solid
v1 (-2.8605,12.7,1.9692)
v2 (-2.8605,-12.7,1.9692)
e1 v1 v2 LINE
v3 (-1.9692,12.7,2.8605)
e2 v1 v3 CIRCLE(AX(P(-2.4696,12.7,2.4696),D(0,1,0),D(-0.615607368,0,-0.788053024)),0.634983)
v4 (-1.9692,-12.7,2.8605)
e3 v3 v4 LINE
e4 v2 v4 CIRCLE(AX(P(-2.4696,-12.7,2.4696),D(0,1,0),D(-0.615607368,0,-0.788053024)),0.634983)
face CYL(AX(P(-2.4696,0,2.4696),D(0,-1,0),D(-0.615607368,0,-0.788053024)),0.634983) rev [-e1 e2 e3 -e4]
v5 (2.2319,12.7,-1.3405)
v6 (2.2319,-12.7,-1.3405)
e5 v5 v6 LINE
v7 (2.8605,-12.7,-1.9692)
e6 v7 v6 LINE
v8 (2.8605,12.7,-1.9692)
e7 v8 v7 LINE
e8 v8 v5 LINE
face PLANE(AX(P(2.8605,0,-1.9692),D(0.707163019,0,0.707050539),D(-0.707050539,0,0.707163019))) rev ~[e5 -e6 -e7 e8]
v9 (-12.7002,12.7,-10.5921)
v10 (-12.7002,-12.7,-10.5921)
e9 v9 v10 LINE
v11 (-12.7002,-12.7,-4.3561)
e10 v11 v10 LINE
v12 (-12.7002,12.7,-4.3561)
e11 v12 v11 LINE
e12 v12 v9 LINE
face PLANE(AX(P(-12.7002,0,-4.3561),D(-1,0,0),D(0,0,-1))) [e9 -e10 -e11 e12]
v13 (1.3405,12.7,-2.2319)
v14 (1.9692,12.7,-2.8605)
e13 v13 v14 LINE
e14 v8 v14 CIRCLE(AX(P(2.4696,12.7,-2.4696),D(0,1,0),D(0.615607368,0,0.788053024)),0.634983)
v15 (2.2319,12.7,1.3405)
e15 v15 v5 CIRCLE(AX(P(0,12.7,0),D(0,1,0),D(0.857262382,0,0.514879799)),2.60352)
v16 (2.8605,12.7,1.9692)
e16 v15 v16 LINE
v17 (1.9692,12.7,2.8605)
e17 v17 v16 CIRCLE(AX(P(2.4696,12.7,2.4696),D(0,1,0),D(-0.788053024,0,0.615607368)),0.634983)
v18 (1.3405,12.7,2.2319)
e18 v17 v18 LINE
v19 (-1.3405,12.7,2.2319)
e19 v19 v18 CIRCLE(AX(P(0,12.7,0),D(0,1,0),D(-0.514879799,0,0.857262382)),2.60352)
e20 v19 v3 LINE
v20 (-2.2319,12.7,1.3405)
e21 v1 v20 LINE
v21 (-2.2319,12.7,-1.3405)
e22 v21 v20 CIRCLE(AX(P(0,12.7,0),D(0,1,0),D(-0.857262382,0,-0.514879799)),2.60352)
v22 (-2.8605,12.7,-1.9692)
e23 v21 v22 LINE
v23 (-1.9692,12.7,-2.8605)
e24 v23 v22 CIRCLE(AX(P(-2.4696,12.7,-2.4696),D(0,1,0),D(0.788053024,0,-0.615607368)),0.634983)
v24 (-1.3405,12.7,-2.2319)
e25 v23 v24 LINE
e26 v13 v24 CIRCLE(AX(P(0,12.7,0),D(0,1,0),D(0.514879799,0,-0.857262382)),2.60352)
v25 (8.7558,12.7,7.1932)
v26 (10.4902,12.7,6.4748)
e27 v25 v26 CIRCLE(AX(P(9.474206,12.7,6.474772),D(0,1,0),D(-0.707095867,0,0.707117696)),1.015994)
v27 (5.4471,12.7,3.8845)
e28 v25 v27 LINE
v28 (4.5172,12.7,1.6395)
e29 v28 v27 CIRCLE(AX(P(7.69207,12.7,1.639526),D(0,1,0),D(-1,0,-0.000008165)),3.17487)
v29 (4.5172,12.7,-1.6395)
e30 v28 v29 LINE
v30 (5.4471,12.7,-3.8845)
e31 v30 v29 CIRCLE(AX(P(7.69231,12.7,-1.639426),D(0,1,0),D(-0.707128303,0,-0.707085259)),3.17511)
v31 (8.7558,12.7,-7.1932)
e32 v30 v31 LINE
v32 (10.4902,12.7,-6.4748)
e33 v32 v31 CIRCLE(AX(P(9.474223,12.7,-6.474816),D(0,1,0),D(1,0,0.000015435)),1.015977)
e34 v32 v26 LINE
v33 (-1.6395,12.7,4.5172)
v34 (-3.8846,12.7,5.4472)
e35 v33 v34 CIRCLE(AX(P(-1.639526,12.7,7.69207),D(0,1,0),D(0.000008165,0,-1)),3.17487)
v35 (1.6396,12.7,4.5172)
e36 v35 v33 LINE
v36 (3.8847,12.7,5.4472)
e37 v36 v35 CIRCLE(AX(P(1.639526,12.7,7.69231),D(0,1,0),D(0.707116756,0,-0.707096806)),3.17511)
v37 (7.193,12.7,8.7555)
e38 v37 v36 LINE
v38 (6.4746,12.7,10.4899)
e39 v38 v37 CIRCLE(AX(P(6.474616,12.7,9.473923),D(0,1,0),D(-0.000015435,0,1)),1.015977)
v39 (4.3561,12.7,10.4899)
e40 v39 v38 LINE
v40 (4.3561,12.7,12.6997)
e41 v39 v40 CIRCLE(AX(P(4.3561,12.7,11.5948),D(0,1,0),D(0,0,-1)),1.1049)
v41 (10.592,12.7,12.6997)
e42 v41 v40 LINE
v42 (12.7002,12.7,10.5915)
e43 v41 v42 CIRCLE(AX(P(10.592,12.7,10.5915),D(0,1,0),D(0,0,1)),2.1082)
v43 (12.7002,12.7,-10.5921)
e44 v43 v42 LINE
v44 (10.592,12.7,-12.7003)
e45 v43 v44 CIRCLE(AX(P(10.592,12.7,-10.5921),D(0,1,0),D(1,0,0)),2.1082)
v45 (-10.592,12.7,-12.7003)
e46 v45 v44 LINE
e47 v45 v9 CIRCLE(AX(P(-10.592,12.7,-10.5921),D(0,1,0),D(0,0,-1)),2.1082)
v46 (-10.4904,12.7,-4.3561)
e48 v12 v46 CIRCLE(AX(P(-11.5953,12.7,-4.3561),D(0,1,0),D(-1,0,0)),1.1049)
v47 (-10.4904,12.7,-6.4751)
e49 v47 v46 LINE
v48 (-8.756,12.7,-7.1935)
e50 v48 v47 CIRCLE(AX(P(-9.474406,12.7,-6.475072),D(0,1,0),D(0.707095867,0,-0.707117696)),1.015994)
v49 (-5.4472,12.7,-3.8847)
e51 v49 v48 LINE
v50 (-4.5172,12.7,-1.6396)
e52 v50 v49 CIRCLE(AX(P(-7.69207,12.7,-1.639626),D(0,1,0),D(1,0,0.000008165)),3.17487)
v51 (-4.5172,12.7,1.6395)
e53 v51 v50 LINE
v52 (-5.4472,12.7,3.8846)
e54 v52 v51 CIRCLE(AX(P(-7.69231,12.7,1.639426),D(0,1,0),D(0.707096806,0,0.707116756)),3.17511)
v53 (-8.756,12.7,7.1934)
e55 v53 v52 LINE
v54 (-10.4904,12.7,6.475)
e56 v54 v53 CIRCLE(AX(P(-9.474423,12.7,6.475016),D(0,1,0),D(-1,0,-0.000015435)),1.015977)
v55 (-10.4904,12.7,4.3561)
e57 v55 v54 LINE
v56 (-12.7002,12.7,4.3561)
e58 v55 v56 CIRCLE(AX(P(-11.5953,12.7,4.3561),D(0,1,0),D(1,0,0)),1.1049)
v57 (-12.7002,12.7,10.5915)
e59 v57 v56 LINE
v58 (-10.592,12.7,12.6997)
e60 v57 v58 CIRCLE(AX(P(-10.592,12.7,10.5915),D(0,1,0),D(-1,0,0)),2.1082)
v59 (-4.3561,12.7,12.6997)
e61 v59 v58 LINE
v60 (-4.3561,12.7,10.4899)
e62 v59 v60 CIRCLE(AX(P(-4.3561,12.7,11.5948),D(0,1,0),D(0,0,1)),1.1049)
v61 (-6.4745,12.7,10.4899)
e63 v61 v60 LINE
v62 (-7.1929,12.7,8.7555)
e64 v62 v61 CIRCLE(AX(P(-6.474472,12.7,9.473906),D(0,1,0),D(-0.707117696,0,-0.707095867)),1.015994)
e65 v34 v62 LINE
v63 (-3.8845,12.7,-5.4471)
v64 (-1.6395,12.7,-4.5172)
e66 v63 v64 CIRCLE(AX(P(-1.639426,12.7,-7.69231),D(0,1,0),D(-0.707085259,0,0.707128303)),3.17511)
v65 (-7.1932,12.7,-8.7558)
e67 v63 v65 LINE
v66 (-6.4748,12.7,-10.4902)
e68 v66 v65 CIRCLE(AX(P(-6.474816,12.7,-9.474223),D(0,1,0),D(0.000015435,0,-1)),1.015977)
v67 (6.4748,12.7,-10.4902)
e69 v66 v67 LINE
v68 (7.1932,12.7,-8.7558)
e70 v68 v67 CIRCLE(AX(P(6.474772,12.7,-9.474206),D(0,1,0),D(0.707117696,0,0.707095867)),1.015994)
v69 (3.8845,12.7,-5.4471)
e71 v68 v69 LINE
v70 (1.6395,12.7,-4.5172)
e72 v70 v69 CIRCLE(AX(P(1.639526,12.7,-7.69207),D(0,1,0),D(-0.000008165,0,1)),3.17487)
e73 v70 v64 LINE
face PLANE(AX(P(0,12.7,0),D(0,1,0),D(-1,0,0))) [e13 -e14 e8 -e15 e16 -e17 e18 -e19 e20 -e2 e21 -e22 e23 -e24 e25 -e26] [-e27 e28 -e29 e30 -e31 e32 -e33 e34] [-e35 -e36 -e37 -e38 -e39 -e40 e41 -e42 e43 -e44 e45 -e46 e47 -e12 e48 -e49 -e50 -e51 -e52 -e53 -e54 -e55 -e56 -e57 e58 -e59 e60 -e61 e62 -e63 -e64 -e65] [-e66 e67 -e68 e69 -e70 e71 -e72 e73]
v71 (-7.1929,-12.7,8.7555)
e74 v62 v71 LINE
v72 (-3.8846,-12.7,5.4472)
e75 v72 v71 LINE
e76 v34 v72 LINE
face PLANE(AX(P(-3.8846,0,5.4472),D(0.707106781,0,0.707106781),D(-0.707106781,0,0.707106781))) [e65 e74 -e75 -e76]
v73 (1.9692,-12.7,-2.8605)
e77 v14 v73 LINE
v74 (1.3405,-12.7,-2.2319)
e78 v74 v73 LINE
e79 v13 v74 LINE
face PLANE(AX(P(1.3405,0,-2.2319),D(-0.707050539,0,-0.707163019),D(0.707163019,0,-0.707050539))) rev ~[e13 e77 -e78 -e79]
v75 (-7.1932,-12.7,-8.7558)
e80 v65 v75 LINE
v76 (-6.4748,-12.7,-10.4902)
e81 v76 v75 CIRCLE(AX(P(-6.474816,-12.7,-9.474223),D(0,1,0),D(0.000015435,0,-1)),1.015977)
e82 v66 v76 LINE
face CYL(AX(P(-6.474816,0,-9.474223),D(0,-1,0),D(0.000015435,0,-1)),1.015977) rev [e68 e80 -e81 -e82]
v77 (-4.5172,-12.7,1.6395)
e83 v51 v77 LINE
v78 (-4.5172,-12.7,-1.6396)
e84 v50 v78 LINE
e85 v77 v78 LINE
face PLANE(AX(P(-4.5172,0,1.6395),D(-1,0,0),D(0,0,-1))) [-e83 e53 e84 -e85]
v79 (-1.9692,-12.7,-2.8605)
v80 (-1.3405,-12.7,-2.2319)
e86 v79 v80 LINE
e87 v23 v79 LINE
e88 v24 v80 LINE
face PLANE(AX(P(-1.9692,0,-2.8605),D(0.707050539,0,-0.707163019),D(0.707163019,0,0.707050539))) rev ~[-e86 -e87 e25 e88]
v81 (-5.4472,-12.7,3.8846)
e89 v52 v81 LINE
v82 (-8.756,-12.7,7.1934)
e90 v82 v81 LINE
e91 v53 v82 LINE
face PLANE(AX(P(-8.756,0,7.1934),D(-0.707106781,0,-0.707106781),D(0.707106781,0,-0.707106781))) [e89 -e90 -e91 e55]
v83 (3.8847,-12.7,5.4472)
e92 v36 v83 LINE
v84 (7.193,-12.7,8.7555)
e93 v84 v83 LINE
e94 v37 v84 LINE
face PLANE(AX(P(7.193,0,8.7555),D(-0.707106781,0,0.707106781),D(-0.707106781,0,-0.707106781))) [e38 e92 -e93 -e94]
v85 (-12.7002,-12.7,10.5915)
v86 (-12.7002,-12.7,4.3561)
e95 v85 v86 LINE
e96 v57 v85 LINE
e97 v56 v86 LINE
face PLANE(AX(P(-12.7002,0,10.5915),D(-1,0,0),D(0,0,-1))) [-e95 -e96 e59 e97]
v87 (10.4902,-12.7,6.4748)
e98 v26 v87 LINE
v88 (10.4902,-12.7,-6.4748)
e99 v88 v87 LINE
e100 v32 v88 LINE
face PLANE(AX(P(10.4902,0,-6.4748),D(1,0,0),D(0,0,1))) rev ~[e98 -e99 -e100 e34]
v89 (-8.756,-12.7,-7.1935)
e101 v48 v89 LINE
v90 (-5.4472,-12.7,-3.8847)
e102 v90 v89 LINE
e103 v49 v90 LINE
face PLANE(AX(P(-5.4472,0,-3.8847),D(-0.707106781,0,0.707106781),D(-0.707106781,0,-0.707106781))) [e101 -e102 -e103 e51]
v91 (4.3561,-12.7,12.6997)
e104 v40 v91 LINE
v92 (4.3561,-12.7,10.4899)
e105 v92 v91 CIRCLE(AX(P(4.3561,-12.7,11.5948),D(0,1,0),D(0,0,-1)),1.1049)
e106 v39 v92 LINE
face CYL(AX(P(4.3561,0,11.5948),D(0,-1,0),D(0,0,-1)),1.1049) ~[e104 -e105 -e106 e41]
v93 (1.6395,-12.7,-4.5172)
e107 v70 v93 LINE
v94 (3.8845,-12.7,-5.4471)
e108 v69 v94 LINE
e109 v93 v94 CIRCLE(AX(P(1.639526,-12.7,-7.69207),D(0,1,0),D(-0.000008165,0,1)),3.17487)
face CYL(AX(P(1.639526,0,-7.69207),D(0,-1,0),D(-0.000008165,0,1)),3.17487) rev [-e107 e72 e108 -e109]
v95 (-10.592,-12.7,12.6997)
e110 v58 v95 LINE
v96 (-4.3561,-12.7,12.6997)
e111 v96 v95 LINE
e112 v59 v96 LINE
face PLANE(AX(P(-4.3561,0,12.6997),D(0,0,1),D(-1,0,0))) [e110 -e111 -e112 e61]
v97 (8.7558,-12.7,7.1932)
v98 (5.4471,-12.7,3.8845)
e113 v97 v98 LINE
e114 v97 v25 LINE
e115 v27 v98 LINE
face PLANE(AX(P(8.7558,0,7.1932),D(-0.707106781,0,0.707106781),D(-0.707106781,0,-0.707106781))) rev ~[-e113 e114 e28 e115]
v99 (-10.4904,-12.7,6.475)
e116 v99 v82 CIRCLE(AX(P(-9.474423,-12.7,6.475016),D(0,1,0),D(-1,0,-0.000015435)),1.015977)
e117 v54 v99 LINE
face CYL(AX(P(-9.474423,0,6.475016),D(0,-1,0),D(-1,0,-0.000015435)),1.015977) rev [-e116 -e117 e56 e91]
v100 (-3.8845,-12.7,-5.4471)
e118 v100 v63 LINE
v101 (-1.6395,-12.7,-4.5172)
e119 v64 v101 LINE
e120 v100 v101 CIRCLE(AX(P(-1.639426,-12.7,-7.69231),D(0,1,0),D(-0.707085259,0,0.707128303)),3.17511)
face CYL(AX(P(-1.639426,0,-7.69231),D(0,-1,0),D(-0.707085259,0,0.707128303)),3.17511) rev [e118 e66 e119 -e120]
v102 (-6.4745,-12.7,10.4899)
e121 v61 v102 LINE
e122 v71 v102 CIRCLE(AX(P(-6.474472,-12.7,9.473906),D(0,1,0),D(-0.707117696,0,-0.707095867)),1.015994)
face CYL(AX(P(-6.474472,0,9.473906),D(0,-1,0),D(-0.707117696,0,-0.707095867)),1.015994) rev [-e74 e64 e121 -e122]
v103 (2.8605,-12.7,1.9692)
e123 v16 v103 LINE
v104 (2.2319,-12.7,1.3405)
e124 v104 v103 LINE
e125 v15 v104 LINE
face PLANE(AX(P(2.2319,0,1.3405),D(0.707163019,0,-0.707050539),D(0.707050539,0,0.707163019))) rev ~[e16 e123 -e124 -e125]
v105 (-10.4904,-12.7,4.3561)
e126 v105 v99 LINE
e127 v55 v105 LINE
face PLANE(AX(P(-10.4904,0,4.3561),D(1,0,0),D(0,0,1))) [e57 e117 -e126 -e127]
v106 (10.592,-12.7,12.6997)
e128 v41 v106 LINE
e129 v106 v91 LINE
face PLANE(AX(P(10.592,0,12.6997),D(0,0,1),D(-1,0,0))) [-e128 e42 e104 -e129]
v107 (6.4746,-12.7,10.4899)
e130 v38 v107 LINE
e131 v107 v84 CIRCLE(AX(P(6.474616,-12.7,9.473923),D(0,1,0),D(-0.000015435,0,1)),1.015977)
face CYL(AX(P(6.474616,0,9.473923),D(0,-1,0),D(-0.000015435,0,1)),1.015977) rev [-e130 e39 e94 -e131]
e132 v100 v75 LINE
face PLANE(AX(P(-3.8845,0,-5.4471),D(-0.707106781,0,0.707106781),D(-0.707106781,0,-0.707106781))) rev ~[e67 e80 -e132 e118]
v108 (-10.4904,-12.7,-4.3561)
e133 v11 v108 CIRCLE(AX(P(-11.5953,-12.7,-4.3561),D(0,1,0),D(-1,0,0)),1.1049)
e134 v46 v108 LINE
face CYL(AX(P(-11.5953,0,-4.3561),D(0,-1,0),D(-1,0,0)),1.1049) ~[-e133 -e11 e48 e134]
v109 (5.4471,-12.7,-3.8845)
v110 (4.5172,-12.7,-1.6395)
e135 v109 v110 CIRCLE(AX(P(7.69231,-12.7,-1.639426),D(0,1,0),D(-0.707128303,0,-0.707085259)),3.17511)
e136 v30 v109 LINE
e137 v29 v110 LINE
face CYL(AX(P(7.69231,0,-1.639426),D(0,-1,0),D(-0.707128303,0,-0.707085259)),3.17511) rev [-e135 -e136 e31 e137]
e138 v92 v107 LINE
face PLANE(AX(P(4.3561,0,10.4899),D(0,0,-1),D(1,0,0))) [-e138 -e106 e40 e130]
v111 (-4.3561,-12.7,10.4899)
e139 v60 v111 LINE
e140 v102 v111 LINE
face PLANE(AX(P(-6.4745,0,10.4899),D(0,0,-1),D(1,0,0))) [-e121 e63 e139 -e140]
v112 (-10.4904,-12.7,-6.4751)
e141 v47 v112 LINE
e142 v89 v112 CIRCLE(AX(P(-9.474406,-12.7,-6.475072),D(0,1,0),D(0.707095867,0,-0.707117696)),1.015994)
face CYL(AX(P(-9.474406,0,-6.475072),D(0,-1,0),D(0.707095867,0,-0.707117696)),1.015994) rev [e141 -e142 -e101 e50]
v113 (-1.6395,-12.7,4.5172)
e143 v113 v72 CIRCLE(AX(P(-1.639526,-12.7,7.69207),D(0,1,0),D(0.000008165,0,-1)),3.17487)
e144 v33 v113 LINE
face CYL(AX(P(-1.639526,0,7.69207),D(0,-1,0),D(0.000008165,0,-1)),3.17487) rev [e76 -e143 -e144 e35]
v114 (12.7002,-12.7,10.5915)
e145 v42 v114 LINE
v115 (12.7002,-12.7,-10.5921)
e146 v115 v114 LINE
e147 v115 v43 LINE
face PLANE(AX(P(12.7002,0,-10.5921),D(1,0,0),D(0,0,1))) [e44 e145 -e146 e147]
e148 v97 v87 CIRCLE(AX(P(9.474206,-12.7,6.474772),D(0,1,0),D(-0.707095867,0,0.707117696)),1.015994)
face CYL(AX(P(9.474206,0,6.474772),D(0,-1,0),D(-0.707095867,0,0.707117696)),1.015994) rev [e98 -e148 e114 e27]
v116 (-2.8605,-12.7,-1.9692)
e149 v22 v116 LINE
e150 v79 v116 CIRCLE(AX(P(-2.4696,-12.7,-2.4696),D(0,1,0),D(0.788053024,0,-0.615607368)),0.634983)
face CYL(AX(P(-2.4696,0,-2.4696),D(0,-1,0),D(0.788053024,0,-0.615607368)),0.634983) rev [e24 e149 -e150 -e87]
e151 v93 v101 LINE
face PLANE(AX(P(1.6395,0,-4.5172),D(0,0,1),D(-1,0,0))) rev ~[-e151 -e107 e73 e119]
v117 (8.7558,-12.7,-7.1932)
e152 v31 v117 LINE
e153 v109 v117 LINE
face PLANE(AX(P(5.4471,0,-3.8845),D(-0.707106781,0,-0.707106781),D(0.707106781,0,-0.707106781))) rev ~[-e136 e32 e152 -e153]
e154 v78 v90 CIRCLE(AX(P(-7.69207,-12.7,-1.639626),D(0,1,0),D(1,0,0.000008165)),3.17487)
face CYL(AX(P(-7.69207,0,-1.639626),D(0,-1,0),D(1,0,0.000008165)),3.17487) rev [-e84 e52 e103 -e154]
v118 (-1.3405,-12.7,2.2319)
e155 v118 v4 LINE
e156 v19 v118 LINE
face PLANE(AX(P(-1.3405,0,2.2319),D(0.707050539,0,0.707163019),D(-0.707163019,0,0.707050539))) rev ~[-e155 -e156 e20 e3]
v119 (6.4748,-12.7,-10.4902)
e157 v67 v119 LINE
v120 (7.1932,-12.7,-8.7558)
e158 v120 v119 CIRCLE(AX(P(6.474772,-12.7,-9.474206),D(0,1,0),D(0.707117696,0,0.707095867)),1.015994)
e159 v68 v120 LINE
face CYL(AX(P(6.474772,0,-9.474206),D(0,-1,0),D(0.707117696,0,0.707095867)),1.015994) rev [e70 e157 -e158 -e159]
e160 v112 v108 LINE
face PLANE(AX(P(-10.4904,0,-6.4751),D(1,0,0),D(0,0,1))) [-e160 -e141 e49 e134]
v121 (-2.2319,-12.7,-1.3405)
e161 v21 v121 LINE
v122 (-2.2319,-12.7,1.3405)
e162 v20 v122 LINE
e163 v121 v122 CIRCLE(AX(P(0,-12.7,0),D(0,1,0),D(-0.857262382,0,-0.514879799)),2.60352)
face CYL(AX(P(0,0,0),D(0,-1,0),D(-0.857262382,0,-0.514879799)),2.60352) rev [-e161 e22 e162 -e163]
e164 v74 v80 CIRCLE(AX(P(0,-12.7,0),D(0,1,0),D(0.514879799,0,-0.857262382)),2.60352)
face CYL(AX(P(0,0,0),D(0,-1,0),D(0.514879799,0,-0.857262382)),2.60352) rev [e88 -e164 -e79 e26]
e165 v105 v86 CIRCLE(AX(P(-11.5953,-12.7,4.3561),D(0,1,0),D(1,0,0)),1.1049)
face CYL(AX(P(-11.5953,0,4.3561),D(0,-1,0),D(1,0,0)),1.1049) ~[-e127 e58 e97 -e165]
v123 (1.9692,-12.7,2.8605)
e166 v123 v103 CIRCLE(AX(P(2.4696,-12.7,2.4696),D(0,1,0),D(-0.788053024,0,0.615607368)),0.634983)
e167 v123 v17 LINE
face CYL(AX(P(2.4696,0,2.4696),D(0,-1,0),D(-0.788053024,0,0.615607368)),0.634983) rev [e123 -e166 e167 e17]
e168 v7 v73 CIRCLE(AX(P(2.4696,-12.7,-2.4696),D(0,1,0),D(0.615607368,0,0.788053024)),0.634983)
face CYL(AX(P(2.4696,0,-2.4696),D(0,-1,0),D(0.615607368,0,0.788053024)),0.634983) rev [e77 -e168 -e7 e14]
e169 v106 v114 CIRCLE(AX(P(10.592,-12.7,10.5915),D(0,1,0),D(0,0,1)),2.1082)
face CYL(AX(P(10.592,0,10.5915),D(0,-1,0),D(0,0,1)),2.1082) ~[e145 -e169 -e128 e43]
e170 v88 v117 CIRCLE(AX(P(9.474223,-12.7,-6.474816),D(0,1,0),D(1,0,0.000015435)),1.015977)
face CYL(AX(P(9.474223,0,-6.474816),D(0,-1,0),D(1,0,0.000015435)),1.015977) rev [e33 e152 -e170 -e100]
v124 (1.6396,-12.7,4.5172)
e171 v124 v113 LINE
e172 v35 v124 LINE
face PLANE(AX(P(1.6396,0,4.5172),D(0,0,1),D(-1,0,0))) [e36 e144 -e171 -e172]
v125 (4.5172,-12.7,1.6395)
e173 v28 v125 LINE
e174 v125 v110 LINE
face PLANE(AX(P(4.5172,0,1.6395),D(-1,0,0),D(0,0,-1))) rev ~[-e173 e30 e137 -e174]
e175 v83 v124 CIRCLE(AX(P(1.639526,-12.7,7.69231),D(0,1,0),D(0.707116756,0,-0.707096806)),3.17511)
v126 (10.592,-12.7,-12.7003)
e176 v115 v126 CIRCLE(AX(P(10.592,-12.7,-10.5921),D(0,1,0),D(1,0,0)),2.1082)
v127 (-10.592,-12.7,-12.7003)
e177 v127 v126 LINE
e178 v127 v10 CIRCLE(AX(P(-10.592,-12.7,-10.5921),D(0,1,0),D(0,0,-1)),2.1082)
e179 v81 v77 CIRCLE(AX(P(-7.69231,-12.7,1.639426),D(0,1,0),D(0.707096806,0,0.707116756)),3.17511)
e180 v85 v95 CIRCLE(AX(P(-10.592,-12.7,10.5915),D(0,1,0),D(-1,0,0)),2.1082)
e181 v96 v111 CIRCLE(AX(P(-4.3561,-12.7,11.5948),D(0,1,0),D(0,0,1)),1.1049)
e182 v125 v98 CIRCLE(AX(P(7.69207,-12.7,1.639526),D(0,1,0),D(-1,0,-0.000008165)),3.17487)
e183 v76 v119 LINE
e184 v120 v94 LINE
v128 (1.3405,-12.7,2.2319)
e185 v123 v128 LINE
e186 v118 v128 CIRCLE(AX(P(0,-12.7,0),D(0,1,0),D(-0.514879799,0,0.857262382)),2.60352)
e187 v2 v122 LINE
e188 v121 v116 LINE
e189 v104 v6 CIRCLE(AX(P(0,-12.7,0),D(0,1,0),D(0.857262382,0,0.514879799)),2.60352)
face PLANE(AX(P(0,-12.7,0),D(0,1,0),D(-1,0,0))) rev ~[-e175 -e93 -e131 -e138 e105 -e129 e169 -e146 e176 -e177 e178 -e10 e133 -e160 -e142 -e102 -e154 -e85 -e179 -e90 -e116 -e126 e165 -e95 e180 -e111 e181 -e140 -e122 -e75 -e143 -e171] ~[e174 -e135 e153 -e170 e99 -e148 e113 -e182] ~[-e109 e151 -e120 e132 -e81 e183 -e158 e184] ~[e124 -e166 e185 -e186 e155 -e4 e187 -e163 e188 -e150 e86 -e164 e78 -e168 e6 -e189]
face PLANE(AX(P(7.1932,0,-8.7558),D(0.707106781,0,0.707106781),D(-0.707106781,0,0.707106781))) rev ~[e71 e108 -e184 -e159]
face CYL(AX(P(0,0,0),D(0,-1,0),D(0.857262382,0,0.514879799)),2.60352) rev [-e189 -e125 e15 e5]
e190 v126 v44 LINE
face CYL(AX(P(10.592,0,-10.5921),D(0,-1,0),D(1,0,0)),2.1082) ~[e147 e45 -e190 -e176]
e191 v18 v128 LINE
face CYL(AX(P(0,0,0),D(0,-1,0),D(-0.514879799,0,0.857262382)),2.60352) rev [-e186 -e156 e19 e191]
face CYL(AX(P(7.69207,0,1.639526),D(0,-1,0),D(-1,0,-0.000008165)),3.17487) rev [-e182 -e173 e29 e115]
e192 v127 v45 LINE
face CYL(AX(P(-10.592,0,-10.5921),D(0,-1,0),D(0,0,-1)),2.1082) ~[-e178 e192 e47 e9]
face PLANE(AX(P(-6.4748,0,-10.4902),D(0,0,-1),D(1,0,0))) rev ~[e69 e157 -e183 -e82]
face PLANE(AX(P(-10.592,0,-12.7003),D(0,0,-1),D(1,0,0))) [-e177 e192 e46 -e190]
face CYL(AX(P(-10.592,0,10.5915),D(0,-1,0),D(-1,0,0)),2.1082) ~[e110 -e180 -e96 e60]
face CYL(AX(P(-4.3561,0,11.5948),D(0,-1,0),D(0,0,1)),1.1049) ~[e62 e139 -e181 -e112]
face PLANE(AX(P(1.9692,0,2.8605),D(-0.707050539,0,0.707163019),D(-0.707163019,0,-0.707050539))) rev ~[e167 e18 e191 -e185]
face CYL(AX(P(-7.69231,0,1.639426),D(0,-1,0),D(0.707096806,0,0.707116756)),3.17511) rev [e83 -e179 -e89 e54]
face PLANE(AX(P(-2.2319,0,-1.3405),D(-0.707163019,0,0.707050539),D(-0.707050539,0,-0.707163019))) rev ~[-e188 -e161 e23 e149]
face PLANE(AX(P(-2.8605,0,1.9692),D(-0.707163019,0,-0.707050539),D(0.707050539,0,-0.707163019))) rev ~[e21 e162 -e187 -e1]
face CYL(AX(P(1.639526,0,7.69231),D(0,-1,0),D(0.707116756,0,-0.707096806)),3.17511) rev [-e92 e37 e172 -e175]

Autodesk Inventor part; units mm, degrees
ref_plane "YZ Plane" through (0, 0, 0) normal (1, 0, 0) x (0, 1, 0)
ref_plane "XZ Plane" through (0, 0, 0) normal (0, 1, 0) x (-1, 0, 0)
ref_plane "XY Plane" through (0, 0, 0) normal (0, 0, 1) x (1, 0, 0)
sketch "Sketch1" plane through (0, 0, 0) normal (0, 1, 0) x (-1, 0, 0)
  arc A0 (-1.9692, 2.8605) -> (-2.8605, 1.9692) centre (-2.4696, 2.4696) ccw
  line L0 (-2.2319, 1.3405) -> (-2.8605, 1.9692)
  arc A1 (-2.2319, 1.3405) -> (-2.2319, -1.3405) centre (0, 0) ccw
  line L1 (-2.8605, -1.9692) -> (-2.2319, -1.3405)
  arc A2 (-2.8605, -1.9692) -> (-1.9692, -2.8605) centre (-2.4696, -2.4696) ccw
  line L2 (-1.3405, -2.2319) -> (-1.9692, -2.8605)
  arc A3 (-1.3405, -2.2319) -> (1.3405, -2.2319) centre (0, 0) ccw
  line L3 (1.9692, -2.8605) -> (1.3405, -2.2319)
  arc A4 (1.9692, -2.8605) -> (2.8605, -1.9692) centre (2.4696, -2.4696) ccw
  line L4 (2.2319, -1.3405) -> (2.8605, -1.9692)
  arc A5 (2.2319, -1.3405) -> (2.2319, 1.3405) centre (0, 0) ccw
  line L5 (2.8605, 1.9692) -> (2.2319, 1.3405)
  arc A6 (2.8605, 1.9692) -> (1.9692, 2.8605) centre (2.4696, 2.4696) ccw
  line L6 (1.3405, 2.2319) -> (1.9692, 2.8605)
  arc A7 (1.3405, 2.2319) -> (-1.3405, 2.2319) centre (0, 0) ccw
  line L7 (-1.9692, 2.8605) -> (-1.3405, 2.2319)
  arc A8 (-8.7558, 7.1932) -> (-10.4902, 6.4748) centre (-9.4742, 6.4748) ccw
  line L8 (-10.4902, -6.4748) -> (-10.4902, 6.4748)
  arc A9 (-10.4902, -6.4748) -> (-8.7558, -7.1932) centre (-9.4742, -6.4748) ccw
  line L9 (-5.4471, -3.8845) -> (-8.7558, -7.1932)
  arc A10 (-5.4471, -3.8845) -> (-4.5172, -1.6395) centre (-7.6922, -1.6395) ccw
  line L10 (-4.5172, 1.6395) -> (-4.5172, -1.6395)
  arc A11 (-4.5172, 1.6395) -> (-5.4471, 3.8845) centre (-7.6922, 1.6395) ccw
  line L11 (-8.7558, 7.1932) -> (-5.4471, 3.8845)
  arc A12 (3.8845, -5.4471) -> (1.6395, -4.5172) centre (1.6395, -7.6922) ccw
  line L12 (-1.6395, -4.5172) -> (1.6395, -4.5172)
  arc A13 (-1.6395, -4.5172) -> (-3.8845, -5.4471) centre (-1.6395, -7.6922) ccw
  line L13 (-7.1932, -8.7558) -> (-3.8845, -5.4471)
  arc A14 (-7.1932, -8.7558) -> (-6.4748, -10.4902) centre (-6.4748, -9.4742) ccw
  line L14 (6.4748, -10.4902) -> (-6.4748, -10.4902)
  arc A15 (6.4748, -10.4902) -> (7.1932, -8.7558) centre (6.4748, -9.4742) ccw
  line L15 (3.8845, -5.4471) -> (7.1932, -8.7558)
  arc A16 (-12.7002, -10.5921) -> (-10.592, -12.7003) centre (-10.592, -10.5921) ccw
  line L16 (-12.7002, -10.5921) -> (-12.7002, 10.5915)
  arc A17 (-10.592, 12.6997) -> (-12.7002, 10.5915) centre (-10.592, 10.5915) ccw
  line L17 (-10.592, 12.6997) -> (-4.3561, 12.6997)
  arc A18 (-4.3561, 10.4899) -> (-4.3561, 12.6997) centre (-4.3561, 11.5948) ccw
  line L18 (-4.3561, 10.4899) -> (-6.4746, 10.4899)
  arc A19 (-6.4746, 10.4899) -> (-7.193, 8.7555) centre (-6.4746, 9.4739) ccw
  line L19 (-7.193, 8.7555) -> (-3.8847, 5.4472)
  arc A20 (-3.8847, 5.4472) -> (-1.6396, 4.5172) centre (-1.6396, 7.6922) ccw
  line L20 (-1.6396, 4.5172) -> (1.6395, 4.5172)
  arc A21 (1.6395, 4.5172) -> (3.8846, 5.4472) centre (1.6395, 7.6922) ccw
  line L21 (3.8846, 5.4472) -> (7.1929, 8.7555)
  arc A22 (7.1929, 8.7555) -> (6.4745, 10.4899) centre (6.4745, 9.4739) ccw
  line L22 (6.4745, 10.4899) -> (4.3561, 10.4899)
  arc A23 (4.3561, 12.6997) -> (4.3561, 10.4899) centre (4.3561, 11.5948) ccw
  line L23 (4.3561, 12.6997) -> (10.592, 12.6997)
  arc A24 (12.7002, 10.5915) -> (10.592, 12.6997) centre (10.592, 10.5915) ccw
  line L24 (12.7002, 10.5915) -> (12.7002, 4.3561)
  arc A25 (10.4904, 4.3561) -> (12.7002, 4.3561) centre (11.5953, 4.3561) ccw
  line L25 (10.4904, 4.3561) -> (10.4904, 6.475)
  arc A26 (10.4904, 6.475) -> (8.756, 7.1934) centre (9.4744, 6.475) ccw
  line L26 (8.756, 7.1934) -> (5.4472, 3.8846)
  arc A27 (5.4472, 3.8846) -> (4.5172, 1.6395) centre (7.6922, 1.6395) ccw
  line L27 (4.5172, 1.6395) -> (4.5172, -1.6396)
  arc A28 (4.5172, -1.6396) -> (5.4472, -3.8847) centre (7.6922, -1.6396) ccw
  line L28 (5.4472, -3.8847) -> (8.756, -7.1935)
  arc A29 (8.756, -7.1935) -> (10.4904, -6.4751) centre (9.4744, -6.4751) ccw
  line L29 (10.4904, -6.4751) -> (10.4904, -4.3561)
  arc A30 (12.7002, -4.3561) -> (10.4904, -4.3561) centre (11.5953, -4.3561) ccw
  line L30 (12.7002, -4.3561) -> (12.7002, -10.5921)
  arc A31 (10.592, -12.7003) -> (12.7002, -10.5921) centre (10.592, -10.5921) ccw
  line L31 (10.592, -12.7003) -> (-10.592, -12.7003)
  point P0 (0, 0)
  dimension "d23" = 8.183
  dimension "d69" = 1.016
  dimension "d70" = 3.175
  dimension "d86" = 17.2174
  dimension "d87" = 23.1904
  dimension "d88" = 25.4004
  dimension "d89" = 17.2169
  dimension "d90" = 23.1899
  dimension "d92" = 8.1825
  dimension "d93" = 2.2098
  dimension "d96" = 2.2097
extrude "Extrusion1" add sketch "Sketch1" along normal mid plane 25.4
properties part number "1002-S-BLACK-FB" material "6105-T5"
